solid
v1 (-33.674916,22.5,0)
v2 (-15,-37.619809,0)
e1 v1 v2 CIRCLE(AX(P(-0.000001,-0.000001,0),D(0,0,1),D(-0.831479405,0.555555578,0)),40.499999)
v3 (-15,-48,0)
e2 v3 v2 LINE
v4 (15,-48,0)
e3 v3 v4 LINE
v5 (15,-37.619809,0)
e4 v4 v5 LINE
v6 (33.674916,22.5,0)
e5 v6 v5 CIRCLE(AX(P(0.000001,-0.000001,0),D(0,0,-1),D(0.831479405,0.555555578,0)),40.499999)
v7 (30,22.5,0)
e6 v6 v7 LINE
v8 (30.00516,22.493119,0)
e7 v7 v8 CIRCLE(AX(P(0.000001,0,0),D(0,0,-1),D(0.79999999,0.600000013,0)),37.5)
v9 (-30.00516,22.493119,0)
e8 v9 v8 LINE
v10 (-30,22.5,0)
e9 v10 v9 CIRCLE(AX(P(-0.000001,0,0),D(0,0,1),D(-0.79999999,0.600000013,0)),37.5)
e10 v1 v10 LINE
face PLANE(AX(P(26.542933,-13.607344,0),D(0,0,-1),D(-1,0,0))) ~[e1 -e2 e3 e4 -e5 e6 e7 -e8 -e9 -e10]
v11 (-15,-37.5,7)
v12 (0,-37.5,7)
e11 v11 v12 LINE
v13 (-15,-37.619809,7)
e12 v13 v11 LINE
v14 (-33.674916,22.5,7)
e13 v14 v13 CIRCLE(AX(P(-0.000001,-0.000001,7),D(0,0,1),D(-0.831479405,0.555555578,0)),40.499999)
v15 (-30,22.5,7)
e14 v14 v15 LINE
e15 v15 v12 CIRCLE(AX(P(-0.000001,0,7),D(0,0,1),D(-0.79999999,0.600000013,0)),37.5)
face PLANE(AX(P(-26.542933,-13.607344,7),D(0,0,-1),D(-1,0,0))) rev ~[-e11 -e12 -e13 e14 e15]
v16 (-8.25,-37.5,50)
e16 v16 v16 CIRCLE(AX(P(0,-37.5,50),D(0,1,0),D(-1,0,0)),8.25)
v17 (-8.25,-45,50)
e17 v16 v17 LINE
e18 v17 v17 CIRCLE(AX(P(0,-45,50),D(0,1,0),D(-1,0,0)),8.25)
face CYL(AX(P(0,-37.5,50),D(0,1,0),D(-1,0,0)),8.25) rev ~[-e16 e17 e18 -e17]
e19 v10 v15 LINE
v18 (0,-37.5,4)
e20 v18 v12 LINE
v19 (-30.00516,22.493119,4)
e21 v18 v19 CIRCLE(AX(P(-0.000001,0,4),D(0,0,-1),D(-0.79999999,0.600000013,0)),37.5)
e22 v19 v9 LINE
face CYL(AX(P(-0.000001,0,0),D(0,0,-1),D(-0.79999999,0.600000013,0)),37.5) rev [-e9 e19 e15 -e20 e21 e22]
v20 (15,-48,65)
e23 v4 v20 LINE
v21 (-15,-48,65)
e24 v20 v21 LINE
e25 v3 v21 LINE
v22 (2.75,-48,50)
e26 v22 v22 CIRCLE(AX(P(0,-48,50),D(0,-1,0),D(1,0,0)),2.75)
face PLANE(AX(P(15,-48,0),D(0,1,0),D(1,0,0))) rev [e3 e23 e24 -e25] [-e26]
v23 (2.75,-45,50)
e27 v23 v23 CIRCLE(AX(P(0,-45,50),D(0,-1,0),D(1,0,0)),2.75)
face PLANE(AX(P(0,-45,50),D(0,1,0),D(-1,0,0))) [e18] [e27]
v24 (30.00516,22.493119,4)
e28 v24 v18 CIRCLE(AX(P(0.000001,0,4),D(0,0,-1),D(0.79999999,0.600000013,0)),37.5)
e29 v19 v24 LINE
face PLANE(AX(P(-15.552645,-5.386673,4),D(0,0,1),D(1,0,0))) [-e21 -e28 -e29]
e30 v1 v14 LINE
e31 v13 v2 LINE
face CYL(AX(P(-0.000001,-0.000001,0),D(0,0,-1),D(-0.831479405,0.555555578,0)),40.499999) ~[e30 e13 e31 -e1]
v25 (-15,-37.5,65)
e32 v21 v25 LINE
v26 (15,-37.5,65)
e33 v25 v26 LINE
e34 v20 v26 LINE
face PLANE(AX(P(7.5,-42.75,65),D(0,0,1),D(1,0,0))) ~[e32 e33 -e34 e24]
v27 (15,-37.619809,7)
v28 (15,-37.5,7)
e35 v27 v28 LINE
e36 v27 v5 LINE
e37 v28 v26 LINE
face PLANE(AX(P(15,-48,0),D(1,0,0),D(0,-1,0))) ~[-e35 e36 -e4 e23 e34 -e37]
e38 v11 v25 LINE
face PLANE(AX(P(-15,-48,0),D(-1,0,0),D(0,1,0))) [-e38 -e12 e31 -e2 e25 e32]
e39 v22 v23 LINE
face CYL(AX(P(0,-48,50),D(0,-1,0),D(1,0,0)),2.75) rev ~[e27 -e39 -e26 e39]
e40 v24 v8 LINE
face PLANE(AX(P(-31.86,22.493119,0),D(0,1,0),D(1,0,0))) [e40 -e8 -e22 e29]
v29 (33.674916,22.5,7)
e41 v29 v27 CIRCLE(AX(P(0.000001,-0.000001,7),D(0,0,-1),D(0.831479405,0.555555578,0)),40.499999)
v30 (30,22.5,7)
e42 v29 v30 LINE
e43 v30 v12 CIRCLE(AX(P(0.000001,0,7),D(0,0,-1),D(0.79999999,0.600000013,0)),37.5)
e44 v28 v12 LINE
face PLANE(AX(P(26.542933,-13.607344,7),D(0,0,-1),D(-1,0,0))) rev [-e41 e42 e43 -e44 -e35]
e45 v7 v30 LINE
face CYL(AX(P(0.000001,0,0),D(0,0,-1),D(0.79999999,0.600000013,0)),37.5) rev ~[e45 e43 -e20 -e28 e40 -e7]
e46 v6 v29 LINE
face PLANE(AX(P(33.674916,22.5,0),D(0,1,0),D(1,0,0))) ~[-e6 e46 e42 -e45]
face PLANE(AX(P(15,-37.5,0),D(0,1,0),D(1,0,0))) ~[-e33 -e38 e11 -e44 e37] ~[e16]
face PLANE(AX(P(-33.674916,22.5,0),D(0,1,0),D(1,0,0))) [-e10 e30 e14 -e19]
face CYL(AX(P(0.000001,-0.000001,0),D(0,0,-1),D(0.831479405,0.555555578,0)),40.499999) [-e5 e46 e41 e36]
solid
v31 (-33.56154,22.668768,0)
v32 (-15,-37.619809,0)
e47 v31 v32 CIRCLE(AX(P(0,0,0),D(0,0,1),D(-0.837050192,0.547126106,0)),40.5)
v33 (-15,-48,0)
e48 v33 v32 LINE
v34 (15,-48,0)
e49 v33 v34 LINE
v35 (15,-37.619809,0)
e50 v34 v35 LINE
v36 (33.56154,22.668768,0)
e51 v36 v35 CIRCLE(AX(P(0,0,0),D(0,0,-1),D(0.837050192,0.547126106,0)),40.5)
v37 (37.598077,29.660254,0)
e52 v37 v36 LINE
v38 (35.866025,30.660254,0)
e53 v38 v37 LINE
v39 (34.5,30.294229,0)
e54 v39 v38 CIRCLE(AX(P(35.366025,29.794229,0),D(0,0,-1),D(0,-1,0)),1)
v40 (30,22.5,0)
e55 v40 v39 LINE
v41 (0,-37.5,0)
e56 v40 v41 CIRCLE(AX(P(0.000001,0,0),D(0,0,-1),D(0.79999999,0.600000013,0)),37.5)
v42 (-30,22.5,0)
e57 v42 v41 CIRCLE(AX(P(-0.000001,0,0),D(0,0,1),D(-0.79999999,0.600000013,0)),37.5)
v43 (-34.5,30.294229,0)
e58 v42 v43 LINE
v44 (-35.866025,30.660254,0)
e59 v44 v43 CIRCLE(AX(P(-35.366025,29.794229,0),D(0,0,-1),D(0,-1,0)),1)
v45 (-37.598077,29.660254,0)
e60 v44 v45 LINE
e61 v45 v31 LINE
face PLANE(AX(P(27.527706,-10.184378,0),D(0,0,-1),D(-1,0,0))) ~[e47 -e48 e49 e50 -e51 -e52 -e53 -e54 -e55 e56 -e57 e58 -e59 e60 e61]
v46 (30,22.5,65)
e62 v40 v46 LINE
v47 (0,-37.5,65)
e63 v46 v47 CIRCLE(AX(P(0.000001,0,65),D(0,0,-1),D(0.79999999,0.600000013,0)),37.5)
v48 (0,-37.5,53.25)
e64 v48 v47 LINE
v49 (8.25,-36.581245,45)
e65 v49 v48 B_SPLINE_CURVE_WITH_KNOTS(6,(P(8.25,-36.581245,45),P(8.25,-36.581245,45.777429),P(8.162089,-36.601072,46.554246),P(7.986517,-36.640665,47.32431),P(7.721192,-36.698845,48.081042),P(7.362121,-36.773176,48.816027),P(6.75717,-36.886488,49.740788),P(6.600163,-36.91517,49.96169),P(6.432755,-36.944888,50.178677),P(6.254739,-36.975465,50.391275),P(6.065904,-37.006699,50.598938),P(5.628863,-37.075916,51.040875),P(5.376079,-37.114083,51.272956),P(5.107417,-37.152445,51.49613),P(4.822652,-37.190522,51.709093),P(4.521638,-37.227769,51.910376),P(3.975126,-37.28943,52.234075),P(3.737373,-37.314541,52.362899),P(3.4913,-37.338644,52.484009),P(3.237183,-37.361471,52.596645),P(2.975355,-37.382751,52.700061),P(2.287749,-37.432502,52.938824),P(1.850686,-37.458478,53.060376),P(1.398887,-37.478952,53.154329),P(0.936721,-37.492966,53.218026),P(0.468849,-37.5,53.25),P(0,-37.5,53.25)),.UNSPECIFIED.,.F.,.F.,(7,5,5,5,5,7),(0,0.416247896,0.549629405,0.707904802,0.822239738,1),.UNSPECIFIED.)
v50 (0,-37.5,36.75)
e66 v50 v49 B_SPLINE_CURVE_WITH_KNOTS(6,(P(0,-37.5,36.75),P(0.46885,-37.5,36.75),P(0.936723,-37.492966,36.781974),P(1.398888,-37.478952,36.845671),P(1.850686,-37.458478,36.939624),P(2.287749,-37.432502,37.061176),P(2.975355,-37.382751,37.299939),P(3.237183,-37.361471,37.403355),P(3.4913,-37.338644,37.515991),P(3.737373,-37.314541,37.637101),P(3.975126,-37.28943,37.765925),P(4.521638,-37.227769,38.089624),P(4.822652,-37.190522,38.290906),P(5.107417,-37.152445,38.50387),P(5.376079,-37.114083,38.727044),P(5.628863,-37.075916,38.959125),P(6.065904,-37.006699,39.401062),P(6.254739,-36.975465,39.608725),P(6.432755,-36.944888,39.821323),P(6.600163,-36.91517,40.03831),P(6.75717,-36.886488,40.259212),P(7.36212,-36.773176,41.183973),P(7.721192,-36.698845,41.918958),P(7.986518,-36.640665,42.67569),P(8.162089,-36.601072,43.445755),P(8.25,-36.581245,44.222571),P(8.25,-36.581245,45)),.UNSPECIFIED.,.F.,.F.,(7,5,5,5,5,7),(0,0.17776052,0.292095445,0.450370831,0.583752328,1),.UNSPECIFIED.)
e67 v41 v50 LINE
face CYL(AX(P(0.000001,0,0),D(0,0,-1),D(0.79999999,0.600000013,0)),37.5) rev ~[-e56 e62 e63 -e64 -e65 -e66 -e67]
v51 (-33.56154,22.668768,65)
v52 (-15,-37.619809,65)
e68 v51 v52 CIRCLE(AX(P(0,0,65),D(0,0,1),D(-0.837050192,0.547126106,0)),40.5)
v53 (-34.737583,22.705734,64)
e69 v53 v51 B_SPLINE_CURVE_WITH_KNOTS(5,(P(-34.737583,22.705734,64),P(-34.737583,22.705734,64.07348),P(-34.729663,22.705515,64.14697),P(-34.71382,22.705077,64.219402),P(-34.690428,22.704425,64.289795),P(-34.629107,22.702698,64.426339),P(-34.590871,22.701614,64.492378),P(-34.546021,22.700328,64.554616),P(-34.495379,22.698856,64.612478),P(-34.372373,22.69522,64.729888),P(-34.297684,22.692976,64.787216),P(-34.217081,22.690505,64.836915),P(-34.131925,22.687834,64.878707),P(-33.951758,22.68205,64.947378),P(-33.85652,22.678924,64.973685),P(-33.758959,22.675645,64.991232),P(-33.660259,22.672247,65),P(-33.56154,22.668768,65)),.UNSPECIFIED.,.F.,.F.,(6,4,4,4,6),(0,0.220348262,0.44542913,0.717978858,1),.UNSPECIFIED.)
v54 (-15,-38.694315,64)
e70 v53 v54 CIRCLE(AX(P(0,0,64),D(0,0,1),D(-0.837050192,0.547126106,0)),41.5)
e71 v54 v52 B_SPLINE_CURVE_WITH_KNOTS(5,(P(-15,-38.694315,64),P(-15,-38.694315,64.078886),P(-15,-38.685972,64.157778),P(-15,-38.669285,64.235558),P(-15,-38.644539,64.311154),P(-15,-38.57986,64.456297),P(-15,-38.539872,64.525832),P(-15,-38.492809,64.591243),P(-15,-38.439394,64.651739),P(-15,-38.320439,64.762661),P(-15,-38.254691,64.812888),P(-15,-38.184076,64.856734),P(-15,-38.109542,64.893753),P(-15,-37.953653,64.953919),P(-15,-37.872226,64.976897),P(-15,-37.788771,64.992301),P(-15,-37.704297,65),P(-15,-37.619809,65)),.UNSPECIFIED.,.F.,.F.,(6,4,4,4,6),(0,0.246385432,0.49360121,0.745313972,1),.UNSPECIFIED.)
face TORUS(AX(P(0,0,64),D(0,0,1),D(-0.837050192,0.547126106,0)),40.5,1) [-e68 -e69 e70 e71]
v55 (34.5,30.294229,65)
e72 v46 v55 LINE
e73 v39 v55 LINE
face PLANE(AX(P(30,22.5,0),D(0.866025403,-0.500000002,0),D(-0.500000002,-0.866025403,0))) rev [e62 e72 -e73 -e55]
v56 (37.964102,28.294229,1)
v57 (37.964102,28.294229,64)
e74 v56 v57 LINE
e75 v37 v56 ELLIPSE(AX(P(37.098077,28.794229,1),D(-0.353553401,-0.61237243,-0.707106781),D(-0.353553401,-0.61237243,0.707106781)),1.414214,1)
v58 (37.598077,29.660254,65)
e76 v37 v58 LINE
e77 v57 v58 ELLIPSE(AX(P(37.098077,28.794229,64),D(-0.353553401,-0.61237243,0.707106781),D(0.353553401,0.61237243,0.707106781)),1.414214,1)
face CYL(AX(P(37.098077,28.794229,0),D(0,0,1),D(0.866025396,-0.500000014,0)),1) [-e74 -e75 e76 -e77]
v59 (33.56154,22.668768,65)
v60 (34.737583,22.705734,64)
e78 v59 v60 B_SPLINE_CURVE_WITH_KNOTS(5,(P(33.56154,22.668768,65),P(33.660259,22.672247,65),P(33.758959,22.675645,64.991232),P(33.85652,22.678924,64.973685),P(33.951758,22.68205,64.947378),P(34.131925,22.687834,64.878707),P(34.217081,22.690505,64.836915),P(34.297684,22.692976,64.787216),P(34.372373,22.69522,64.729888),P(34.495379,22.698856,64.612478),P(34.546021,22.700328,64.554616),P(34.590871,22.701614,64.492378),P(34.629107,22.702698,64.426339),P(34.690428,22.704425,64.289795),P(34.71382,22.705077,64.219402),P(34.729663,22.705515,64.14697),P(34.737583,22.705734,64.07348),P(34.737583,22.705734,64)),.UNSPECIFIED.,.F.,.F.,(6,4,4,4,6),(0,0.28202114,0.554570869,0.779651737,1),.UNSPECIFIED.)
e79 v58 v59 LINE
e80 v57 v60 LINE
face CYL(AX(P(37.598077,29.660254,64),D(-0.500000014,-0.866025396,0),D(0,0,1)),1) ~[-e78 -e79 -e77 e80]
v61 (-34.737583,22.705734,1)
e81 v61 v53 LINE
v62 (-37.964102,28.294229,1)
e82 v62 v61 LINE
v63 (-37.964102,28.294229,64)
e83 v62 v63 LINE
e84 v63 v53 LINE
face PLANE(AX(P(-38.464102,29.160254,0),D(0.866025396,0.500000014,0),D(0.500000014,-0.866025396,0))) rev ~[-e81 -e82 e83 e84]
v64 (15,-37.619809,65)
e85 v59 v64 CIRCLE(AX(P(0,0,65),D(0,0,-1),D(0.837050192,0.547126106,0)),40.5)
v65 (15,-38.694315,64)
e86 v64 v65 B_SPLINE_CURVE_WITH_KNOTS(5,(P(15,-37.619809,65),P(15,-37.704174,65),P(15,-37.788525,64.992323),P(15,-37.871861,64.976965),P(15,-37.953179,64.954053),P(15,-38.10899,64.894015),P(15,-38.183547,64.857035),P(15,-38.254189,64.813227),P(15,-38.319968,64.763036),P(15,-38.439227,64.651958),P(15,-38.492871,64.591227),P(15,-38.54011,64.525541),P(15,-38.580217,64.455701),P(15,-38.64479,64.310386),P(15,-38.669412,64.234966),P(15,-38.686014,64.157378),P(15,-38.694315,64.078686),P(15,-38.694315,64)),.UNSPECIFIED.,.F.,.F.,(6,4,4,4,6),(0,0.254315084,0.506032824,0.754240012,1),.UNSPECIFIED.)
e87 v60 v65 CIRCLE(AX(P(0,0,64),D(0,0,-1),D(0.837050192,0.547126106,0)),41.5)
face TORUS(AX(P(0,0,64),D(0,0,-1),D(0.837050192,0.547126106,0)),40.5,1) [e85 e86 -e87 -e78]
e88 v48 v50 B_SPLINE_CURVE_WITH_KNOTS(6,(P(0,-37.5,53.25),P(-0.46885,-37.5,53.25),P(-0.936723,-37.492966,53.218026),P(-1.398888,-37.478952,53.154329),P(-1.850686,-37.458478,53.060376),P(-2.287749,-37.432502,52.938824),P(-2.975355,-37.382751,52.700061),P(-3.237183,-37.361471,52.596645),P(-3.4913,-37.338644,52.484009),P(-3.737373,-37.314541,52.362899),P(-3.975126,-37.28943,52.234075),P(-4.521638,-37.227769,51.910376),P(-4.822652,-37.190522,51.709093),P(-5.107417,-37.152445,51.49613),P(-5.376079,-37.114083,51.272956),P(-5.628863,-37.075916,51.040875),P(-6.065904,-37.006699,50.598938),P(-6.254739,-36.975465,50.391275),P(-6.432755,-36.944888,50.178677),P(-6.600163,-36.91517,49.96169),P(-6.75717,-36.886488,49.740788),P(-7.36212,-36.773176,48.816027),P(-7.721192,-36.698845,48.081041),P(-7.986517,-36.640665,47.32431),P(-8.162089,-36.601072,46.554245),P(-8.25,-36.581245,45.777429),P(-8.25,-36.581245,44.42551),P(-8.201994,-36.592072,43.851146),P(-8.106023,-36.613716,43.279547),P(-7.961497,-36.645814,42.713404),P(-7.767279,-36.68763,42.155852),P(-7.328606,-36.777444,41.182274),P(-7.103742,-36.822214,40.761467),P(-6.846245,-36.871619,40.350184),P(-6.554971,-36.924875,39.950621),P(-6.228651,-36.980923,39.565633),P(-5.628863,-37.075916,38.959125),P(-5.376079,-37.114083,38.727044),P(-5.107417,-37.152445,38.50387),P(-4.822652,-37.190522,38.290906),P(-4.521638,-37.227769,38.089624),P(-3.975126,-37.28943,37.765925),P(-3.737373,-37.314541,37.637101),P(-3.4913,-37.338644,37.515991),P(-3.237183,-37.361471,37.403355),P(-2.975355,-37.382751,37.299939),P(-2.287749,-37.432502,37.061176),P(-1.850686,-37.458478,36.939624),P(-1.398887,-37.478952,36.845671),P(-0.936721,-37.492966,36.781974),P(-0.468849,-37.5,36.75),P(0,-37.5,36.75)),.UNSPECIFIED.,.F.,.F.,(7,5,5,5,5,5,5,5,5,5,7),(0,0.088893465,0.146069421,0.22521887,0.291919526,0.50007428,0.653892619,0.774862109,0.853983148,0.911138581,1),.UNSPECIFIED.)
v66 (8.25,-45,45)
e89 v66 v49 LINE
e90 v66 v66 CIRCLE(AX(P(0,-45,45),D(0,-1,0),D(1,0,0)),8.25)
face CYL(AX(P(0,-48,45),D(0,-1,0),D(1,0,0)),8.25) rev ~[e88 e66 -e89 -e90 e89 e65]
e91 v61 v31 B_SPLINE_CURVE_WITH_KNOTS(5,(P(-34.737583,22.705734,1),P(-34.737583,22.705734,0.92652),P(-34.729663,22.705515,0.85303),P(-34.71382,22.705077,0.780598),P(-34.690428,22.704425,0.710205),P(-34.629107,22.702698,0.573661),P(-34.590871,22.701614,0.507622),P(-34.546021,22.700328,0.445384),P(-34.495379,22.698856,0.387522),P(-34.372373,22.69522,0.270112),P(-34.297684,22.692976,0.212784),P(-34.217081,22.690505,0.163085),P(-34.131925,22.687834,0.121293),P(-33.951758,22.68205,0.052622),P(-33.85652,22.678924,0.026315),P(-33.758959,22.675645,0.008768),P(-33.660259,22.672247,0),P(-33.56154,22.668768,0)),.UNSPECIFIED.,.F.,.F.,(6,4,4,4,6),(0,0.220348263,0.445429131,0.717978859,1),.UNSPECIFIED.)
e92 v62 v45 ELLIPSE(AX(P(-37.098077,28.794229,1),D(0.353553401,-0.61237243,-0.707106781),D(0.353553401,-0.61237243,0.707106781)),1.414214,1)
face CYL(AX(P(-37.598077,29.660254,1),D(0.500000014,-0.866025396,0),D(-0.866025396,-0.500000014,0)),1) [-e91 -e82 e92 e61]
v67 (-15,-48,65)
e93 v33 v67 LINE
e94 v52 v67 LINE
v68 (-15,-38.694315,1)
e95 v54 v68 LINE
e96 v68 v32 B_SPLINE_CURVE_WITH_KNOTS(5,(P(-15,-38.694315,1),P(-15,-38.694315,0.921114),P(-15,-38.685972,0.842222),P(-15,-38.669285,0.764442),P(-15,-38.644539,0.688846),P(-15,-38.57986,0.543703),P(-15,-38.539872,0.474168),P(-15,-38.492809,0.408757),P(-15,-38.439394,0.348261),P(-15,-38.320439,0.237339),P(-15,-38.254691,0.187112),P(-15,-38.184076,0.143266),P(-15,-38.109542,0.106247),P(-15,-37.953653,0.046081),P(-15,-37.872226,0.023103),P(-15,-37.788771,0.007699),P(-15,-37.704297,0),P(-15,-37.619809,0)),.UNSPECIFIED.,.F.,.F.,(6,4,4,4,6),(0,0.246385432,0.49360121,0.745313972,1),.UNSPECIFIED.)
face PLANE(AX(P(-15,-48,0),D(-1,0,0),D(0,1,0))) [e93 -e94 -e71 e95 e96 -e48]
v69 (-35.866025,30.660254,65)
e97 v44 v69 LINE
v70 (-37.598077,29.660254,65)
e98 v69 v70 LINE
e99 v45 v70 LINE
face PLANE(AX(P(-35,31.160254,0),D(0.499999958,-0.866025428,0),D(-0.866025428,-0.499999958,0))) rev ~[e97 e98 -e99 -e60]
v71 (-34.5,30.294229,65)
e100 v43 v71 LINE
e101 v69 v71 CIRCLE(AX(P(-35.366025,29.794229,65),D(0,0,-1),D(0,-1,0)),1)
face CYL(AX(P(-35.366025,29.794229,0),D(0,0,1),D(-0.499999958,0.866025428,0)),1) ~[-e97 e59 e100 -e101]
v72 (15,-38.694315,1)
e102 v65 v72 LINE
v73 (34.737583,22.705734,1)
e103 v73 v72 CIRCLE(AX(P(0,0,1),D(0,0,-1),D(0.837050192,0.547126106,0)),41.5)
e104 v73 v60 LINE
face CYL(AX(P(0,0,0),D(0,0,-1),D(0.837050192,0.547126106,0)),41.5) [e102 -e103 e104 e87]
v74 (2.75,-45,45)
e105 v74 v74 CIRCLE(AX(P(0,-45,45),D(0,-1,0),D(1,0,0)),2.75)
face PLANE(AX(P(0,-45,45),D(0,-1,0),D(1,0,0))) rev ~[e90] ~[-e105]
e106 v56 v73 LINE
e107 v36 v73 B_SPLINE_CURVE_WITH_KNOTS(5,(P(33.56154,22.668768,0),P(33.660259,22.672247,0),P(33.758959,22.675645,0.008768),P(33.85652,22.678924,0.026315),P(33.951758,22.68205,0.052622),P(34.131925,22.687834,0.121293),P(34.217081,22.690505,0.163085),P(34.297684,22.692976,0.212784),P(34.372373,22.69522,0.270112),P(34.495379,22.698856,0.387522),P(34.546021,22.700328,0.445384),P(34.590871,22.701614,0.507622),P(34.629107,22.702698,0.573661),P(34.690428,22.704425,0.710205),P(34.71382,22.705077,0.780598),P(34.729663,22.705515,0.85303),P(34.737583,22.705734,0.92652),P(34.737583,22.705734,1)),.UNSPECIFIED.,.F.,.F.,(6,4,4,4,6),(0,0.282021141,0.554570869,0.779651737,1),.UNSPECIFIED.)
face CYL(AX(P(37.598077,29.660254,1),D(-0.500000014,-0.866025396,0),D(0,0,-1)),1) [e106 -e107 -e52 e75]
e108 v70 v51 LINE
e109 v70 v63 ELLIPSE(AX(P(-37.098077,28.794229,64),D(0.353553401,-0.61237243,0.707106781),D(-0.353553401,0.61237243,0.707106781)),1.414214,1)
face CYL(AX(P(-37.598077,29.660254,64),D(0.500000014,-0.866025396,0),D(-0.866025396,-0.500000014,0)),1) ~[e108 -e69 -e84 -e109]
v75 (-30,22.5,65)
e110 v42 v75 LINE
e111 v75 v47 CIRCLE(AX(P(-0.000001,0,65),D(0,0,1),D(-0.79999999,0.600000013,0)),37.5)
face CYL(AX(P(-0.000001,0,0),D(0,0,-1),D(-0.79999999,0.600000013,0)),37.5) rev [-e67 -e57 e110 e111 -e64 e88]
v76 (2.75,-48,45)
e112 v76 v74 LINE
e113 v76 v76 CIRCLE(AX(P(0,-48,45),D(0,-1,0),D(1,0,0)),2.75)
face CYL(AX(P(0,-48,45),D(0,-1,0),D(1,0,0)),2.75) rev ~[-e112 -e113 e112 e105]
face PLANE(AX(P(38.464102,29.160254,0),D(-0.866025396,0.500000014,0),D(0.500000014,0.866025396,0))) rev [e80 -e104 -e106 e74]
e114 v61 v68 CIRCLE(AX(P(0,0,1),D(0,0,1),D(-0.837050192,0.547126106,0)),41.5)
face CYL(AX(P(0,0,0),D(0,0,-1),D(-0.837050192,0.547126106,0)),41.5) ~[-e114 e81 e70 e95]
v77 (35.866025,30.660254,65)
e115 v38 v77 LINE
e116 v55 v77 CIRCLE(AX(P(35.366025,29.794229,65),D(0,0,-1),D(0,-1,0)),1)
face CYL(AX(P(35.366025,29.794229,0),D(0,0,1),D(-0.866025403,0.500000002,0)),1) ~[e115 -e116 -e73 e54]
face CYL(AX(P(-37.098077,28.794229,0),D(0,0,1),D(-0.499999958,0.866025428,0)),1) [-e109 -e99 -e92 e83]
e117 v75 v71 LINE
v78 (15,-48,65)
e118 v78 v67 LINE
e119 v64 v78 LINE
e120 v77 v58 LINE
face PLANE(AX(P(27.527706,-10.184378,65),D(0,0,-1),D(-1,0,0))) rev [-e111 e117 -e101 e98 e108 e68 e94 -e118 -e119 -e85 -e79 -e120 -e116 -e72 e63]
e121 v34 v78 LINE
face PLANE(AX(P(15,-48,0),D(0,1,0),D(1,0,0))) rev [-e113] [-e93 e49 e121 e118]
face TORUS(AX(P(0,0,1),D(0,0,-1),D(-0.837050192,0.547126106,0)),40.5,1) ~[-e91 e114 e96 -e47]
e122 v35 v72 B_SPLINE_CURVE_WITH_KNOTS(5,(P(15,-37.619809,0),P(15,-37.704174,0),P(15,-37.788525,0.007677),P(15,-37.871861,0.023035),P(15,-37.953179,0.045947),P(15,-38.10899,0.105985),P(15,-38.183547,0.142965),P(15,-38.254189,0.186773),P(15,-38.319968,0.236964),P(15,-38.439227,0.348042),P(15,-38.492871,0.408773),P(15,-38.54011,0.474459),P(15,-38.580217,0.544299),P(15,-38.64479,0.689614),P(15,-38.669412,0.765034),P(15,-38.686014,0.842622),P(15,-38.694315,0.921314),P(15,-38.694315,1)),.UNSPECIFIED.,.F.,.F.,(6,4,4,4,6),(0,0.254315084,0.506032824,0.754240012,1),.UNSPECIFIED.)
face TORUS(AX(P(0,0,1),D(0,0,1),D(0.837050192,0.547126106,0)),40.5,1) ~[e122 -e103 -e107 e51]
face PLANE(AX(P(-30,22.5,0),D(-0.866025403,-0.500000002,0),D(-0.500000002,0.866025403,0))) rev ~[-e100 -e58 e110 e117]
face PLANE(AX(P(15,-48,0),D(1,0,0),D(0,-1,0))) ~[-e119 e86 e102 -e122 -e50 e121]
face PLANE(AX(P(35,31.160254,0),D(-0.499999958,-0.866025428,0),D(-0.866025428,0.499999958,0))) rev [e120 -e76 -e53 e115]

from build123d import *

# Parameters (mm, degrees)
PAD_DEPTH       = 65
SKETCH001_W     = 15
SKETCH001_H     = 10.5
PAD001_DEPTH    = 65
SKETCH010_R     = 8.25
POCKET_DEPTH    = 79.161254
SKETCH011_R     = 11.43427
PAD005_DEPTH    = 3
SKETCH012_R     = 2.75
POCKET004_DEPTH = 79.161254
FILLET_R        = 1
FILLET001_R     = 1
FILLET002_R     = 1
PAD002_DEPTH    = 7
SKETCH004_W     = 15
SKETCH004_H     = 10.5
PAD003_DEPTH    = 65
SKETCH005_R     = 2.5
POCKET001_DEPTH = 55.501
PAD004_DEPTH    = 4
SKETCH008_R     = 2.75
POCKET002_DEPTH = 70.501
SKETCH009_R     = 8.25
POCKET003_DEPTH = 7.5


with BuildPart() as upper:
    # Sketch → Pad (new body)
    with BuildSketch(Plane.XY):
        with BuildLine():
            ThreePointArc((-30, 22.5), (-33.54102, -16.77051), (0, -37.5))
            Line((0, -37.5), (0, -41.5))
            ThreePointArc((-34.737583, 22.705734), (-36.50026, -19.747937), (0, -41.5))
            Line((-38.464102, 29.160254), (-34.737583, 22.705734))
            Line((-35, 31.160254), (-38.464102, 29.160254))
            Line((-30, 22.5), (-35, 31.160254))
        make_face()
    pad = extrude(amount=PAD_DEPTH)

    # Sketch001 → Pad001 (join)
    with BuildSketch(Plane.XY):
        with Locations((-7.5, -42.75)):
            Rectangle(SKETCH001_W, SKETCH001_H)
    pad001 = extrude(amount=PAD001_DEPTH)

    # Mirrored: Pad001, Pad across Sketch001 V_Axis
    add(pad001.mirror(Plane(origin=(0, 0, 0), x_dir=(0, 0, 1), z_dir=(1, 0, 0))))
    add(pad.mirror(Plane(origin=(0, 0, 0), x_dir=(0, 0, 1), z_dir=(1, 0, 0))))

    # Sketch010 (on Face15 of Pad001) → Pocket (cut, through all)
    with BuildSketch(Plane.XZ.offset(48)):
        with Locations((0, 45)):
            Circle(SKETCH010_R)
    extrude(amount=-POCKET_DEPTH, mode=Mode.SUBTRACT)

    # Sketch011 (on Face16 of Pocket) → Pad005 (join)
    with BuildSketch(Plane.XZ.offset(48)):
        with Locations((0, 45)):
            Circle(SKETCH011_R)
    extrude(amount=-PAD005_DEPTH)

    # Sketch012 (on Face28 of Pad005) → Pocket004 (cut, through all)
    with BuildSketch(Plane.XZ.offset(48)):
        with Locations((0, 45)):
            Circle(SKETCH012_R)
    extrude(amount=-POCKET004_DEPTH, mode=Mode.SUBTRACT)

    # Fillet
    fillet_edges = [upper.edges().sort_by_distance(p)[0] for p in [
        (39.508838, -12.700462, 0),
        (36.600842, 25.932994, 0),
        (38.464102, 29.160254, 32.5),
        (36.600842, 25.932994, 65),
        (39.508838, -12.700462, 65),
    ]]
    fillet(fillet_edges, radius=FILLET_R)

    # Fillet001
    fillet001_edges = [upper.edges().sort_by_distance(p)[0] for p in [
        (-39.508838, -12.700462, 0),
        (-36.600842, 25.932994, 0),
        (-38.464102, 29.160254, 32.5),
        (-36.600842, 25.932994, 65),
        (-39.508838, -12.700462, 65),
    ]]
    fillet(fillet001_edges, radius=FILLET001_R)

    # Fillet002
    fillet002_edges = [upper.edges().sort_by_distance(p)[0] for p in [
        (-35, 31.160254, 32.5),
        (35, 31.160254, 32.5),
    ]]
    fillet(fillet002_edges, radius=FILLET002_R)


with BuildPart() as lower:
    # Sketch003 → Pad002 (new body)
    with BuildSketch(Plane.XY):
        with BuildLine():
            ThreePointArc((-30, 22.5), (-33.54102, -16.77051), (0, -37.5))
            Line((0, -37.5), (0, -40.5))
            ThreePointArc((-33.674916, 22.5), (-35.717643, -19.091883), (0, -40.5))
            Line((-33.674916, 22.5), (-30, 22.5))
        make_face()
    pad002 = extrude(amount=PAD002_DEPTH)

    # Sketch004 → Pad003 (join)
    with BuildSketch(Plane.XY):
        with Locations((-7.5, -42.75)):
            Rectangle(SKETCH004_W, SKETCH004_H)
    pad003 = extrude(amount=PAD003_DEPTH)

    # Mirrored001: Pad003, Pad002 across Sketch004 V_Axis
    add(pad003.mirror(Plane(origin=(0, 0, 0), x_dir=(0, 0, 1), z_dir=(1, 0, 0))))
    add(pad002.mirror(Plane(origin=(0, 0, 0), x_dir=(0, 0, 1), z_dir=(1, 0, 0))))

    # Sketch005 (on Face22 of Mirrored001) → Pocket001 (cut, through all)
    with BuildSketch(Plane.YZ.offset(15)):
        with Locations((0, 20)):
            Circle(SKETCH005_R)
    extrude(amount=-POCKET001_DEPTH, mode=Mode.SUBTRACT)

    # Sketch007 → Pad004 (join)
    with BuildSketch(Plane.XY):
        with BuildLine():
            ThreePointArc((-31.86, 22.493119), (-34.628252, -17.941131), (0, -39))
            Line((0, -39), (0, 22.493119))
            Line((-31.86, 22.493119), (0, 22.493119))
        make_face()
    pad004 = extrude(amount=PAD004_DEPTH)

    # Mirrored002: Pad004 across Sketch007 V_Axis
    add(pad004.mirror(Plane(origin=(0, 0, 0), x_dir=(0, 0, 1), z_dir=(1, 0, 0))))

    # Sketch008 (on Face14 of Mirrored002) → Pocket002 (cut, through all)
    with BuildSketch(Plane.XZ.offset(48)):
        with Locations((0, 50)):
            Circle(SKETCH008_R)
    extrude(amount=-POCKET002_DEPTH, mode=Mode.SUBTRACT)

    # Sketch009 (on Face12 of Pocket002) → Pocket003 (cut)
    with BuildSketch(Plane(origin=(0, -37.5, 0), x_dir=(-1, 0, 0), z_dir=(0, 1, 0))):
        with Locations((0, 50)):
            Circle(SKETCH009_R)
    extrude(amount=-POCKET003_DEPTH, mode=Mode.SUBTRACT)


solid = Compound([upper.part, lower.part])
